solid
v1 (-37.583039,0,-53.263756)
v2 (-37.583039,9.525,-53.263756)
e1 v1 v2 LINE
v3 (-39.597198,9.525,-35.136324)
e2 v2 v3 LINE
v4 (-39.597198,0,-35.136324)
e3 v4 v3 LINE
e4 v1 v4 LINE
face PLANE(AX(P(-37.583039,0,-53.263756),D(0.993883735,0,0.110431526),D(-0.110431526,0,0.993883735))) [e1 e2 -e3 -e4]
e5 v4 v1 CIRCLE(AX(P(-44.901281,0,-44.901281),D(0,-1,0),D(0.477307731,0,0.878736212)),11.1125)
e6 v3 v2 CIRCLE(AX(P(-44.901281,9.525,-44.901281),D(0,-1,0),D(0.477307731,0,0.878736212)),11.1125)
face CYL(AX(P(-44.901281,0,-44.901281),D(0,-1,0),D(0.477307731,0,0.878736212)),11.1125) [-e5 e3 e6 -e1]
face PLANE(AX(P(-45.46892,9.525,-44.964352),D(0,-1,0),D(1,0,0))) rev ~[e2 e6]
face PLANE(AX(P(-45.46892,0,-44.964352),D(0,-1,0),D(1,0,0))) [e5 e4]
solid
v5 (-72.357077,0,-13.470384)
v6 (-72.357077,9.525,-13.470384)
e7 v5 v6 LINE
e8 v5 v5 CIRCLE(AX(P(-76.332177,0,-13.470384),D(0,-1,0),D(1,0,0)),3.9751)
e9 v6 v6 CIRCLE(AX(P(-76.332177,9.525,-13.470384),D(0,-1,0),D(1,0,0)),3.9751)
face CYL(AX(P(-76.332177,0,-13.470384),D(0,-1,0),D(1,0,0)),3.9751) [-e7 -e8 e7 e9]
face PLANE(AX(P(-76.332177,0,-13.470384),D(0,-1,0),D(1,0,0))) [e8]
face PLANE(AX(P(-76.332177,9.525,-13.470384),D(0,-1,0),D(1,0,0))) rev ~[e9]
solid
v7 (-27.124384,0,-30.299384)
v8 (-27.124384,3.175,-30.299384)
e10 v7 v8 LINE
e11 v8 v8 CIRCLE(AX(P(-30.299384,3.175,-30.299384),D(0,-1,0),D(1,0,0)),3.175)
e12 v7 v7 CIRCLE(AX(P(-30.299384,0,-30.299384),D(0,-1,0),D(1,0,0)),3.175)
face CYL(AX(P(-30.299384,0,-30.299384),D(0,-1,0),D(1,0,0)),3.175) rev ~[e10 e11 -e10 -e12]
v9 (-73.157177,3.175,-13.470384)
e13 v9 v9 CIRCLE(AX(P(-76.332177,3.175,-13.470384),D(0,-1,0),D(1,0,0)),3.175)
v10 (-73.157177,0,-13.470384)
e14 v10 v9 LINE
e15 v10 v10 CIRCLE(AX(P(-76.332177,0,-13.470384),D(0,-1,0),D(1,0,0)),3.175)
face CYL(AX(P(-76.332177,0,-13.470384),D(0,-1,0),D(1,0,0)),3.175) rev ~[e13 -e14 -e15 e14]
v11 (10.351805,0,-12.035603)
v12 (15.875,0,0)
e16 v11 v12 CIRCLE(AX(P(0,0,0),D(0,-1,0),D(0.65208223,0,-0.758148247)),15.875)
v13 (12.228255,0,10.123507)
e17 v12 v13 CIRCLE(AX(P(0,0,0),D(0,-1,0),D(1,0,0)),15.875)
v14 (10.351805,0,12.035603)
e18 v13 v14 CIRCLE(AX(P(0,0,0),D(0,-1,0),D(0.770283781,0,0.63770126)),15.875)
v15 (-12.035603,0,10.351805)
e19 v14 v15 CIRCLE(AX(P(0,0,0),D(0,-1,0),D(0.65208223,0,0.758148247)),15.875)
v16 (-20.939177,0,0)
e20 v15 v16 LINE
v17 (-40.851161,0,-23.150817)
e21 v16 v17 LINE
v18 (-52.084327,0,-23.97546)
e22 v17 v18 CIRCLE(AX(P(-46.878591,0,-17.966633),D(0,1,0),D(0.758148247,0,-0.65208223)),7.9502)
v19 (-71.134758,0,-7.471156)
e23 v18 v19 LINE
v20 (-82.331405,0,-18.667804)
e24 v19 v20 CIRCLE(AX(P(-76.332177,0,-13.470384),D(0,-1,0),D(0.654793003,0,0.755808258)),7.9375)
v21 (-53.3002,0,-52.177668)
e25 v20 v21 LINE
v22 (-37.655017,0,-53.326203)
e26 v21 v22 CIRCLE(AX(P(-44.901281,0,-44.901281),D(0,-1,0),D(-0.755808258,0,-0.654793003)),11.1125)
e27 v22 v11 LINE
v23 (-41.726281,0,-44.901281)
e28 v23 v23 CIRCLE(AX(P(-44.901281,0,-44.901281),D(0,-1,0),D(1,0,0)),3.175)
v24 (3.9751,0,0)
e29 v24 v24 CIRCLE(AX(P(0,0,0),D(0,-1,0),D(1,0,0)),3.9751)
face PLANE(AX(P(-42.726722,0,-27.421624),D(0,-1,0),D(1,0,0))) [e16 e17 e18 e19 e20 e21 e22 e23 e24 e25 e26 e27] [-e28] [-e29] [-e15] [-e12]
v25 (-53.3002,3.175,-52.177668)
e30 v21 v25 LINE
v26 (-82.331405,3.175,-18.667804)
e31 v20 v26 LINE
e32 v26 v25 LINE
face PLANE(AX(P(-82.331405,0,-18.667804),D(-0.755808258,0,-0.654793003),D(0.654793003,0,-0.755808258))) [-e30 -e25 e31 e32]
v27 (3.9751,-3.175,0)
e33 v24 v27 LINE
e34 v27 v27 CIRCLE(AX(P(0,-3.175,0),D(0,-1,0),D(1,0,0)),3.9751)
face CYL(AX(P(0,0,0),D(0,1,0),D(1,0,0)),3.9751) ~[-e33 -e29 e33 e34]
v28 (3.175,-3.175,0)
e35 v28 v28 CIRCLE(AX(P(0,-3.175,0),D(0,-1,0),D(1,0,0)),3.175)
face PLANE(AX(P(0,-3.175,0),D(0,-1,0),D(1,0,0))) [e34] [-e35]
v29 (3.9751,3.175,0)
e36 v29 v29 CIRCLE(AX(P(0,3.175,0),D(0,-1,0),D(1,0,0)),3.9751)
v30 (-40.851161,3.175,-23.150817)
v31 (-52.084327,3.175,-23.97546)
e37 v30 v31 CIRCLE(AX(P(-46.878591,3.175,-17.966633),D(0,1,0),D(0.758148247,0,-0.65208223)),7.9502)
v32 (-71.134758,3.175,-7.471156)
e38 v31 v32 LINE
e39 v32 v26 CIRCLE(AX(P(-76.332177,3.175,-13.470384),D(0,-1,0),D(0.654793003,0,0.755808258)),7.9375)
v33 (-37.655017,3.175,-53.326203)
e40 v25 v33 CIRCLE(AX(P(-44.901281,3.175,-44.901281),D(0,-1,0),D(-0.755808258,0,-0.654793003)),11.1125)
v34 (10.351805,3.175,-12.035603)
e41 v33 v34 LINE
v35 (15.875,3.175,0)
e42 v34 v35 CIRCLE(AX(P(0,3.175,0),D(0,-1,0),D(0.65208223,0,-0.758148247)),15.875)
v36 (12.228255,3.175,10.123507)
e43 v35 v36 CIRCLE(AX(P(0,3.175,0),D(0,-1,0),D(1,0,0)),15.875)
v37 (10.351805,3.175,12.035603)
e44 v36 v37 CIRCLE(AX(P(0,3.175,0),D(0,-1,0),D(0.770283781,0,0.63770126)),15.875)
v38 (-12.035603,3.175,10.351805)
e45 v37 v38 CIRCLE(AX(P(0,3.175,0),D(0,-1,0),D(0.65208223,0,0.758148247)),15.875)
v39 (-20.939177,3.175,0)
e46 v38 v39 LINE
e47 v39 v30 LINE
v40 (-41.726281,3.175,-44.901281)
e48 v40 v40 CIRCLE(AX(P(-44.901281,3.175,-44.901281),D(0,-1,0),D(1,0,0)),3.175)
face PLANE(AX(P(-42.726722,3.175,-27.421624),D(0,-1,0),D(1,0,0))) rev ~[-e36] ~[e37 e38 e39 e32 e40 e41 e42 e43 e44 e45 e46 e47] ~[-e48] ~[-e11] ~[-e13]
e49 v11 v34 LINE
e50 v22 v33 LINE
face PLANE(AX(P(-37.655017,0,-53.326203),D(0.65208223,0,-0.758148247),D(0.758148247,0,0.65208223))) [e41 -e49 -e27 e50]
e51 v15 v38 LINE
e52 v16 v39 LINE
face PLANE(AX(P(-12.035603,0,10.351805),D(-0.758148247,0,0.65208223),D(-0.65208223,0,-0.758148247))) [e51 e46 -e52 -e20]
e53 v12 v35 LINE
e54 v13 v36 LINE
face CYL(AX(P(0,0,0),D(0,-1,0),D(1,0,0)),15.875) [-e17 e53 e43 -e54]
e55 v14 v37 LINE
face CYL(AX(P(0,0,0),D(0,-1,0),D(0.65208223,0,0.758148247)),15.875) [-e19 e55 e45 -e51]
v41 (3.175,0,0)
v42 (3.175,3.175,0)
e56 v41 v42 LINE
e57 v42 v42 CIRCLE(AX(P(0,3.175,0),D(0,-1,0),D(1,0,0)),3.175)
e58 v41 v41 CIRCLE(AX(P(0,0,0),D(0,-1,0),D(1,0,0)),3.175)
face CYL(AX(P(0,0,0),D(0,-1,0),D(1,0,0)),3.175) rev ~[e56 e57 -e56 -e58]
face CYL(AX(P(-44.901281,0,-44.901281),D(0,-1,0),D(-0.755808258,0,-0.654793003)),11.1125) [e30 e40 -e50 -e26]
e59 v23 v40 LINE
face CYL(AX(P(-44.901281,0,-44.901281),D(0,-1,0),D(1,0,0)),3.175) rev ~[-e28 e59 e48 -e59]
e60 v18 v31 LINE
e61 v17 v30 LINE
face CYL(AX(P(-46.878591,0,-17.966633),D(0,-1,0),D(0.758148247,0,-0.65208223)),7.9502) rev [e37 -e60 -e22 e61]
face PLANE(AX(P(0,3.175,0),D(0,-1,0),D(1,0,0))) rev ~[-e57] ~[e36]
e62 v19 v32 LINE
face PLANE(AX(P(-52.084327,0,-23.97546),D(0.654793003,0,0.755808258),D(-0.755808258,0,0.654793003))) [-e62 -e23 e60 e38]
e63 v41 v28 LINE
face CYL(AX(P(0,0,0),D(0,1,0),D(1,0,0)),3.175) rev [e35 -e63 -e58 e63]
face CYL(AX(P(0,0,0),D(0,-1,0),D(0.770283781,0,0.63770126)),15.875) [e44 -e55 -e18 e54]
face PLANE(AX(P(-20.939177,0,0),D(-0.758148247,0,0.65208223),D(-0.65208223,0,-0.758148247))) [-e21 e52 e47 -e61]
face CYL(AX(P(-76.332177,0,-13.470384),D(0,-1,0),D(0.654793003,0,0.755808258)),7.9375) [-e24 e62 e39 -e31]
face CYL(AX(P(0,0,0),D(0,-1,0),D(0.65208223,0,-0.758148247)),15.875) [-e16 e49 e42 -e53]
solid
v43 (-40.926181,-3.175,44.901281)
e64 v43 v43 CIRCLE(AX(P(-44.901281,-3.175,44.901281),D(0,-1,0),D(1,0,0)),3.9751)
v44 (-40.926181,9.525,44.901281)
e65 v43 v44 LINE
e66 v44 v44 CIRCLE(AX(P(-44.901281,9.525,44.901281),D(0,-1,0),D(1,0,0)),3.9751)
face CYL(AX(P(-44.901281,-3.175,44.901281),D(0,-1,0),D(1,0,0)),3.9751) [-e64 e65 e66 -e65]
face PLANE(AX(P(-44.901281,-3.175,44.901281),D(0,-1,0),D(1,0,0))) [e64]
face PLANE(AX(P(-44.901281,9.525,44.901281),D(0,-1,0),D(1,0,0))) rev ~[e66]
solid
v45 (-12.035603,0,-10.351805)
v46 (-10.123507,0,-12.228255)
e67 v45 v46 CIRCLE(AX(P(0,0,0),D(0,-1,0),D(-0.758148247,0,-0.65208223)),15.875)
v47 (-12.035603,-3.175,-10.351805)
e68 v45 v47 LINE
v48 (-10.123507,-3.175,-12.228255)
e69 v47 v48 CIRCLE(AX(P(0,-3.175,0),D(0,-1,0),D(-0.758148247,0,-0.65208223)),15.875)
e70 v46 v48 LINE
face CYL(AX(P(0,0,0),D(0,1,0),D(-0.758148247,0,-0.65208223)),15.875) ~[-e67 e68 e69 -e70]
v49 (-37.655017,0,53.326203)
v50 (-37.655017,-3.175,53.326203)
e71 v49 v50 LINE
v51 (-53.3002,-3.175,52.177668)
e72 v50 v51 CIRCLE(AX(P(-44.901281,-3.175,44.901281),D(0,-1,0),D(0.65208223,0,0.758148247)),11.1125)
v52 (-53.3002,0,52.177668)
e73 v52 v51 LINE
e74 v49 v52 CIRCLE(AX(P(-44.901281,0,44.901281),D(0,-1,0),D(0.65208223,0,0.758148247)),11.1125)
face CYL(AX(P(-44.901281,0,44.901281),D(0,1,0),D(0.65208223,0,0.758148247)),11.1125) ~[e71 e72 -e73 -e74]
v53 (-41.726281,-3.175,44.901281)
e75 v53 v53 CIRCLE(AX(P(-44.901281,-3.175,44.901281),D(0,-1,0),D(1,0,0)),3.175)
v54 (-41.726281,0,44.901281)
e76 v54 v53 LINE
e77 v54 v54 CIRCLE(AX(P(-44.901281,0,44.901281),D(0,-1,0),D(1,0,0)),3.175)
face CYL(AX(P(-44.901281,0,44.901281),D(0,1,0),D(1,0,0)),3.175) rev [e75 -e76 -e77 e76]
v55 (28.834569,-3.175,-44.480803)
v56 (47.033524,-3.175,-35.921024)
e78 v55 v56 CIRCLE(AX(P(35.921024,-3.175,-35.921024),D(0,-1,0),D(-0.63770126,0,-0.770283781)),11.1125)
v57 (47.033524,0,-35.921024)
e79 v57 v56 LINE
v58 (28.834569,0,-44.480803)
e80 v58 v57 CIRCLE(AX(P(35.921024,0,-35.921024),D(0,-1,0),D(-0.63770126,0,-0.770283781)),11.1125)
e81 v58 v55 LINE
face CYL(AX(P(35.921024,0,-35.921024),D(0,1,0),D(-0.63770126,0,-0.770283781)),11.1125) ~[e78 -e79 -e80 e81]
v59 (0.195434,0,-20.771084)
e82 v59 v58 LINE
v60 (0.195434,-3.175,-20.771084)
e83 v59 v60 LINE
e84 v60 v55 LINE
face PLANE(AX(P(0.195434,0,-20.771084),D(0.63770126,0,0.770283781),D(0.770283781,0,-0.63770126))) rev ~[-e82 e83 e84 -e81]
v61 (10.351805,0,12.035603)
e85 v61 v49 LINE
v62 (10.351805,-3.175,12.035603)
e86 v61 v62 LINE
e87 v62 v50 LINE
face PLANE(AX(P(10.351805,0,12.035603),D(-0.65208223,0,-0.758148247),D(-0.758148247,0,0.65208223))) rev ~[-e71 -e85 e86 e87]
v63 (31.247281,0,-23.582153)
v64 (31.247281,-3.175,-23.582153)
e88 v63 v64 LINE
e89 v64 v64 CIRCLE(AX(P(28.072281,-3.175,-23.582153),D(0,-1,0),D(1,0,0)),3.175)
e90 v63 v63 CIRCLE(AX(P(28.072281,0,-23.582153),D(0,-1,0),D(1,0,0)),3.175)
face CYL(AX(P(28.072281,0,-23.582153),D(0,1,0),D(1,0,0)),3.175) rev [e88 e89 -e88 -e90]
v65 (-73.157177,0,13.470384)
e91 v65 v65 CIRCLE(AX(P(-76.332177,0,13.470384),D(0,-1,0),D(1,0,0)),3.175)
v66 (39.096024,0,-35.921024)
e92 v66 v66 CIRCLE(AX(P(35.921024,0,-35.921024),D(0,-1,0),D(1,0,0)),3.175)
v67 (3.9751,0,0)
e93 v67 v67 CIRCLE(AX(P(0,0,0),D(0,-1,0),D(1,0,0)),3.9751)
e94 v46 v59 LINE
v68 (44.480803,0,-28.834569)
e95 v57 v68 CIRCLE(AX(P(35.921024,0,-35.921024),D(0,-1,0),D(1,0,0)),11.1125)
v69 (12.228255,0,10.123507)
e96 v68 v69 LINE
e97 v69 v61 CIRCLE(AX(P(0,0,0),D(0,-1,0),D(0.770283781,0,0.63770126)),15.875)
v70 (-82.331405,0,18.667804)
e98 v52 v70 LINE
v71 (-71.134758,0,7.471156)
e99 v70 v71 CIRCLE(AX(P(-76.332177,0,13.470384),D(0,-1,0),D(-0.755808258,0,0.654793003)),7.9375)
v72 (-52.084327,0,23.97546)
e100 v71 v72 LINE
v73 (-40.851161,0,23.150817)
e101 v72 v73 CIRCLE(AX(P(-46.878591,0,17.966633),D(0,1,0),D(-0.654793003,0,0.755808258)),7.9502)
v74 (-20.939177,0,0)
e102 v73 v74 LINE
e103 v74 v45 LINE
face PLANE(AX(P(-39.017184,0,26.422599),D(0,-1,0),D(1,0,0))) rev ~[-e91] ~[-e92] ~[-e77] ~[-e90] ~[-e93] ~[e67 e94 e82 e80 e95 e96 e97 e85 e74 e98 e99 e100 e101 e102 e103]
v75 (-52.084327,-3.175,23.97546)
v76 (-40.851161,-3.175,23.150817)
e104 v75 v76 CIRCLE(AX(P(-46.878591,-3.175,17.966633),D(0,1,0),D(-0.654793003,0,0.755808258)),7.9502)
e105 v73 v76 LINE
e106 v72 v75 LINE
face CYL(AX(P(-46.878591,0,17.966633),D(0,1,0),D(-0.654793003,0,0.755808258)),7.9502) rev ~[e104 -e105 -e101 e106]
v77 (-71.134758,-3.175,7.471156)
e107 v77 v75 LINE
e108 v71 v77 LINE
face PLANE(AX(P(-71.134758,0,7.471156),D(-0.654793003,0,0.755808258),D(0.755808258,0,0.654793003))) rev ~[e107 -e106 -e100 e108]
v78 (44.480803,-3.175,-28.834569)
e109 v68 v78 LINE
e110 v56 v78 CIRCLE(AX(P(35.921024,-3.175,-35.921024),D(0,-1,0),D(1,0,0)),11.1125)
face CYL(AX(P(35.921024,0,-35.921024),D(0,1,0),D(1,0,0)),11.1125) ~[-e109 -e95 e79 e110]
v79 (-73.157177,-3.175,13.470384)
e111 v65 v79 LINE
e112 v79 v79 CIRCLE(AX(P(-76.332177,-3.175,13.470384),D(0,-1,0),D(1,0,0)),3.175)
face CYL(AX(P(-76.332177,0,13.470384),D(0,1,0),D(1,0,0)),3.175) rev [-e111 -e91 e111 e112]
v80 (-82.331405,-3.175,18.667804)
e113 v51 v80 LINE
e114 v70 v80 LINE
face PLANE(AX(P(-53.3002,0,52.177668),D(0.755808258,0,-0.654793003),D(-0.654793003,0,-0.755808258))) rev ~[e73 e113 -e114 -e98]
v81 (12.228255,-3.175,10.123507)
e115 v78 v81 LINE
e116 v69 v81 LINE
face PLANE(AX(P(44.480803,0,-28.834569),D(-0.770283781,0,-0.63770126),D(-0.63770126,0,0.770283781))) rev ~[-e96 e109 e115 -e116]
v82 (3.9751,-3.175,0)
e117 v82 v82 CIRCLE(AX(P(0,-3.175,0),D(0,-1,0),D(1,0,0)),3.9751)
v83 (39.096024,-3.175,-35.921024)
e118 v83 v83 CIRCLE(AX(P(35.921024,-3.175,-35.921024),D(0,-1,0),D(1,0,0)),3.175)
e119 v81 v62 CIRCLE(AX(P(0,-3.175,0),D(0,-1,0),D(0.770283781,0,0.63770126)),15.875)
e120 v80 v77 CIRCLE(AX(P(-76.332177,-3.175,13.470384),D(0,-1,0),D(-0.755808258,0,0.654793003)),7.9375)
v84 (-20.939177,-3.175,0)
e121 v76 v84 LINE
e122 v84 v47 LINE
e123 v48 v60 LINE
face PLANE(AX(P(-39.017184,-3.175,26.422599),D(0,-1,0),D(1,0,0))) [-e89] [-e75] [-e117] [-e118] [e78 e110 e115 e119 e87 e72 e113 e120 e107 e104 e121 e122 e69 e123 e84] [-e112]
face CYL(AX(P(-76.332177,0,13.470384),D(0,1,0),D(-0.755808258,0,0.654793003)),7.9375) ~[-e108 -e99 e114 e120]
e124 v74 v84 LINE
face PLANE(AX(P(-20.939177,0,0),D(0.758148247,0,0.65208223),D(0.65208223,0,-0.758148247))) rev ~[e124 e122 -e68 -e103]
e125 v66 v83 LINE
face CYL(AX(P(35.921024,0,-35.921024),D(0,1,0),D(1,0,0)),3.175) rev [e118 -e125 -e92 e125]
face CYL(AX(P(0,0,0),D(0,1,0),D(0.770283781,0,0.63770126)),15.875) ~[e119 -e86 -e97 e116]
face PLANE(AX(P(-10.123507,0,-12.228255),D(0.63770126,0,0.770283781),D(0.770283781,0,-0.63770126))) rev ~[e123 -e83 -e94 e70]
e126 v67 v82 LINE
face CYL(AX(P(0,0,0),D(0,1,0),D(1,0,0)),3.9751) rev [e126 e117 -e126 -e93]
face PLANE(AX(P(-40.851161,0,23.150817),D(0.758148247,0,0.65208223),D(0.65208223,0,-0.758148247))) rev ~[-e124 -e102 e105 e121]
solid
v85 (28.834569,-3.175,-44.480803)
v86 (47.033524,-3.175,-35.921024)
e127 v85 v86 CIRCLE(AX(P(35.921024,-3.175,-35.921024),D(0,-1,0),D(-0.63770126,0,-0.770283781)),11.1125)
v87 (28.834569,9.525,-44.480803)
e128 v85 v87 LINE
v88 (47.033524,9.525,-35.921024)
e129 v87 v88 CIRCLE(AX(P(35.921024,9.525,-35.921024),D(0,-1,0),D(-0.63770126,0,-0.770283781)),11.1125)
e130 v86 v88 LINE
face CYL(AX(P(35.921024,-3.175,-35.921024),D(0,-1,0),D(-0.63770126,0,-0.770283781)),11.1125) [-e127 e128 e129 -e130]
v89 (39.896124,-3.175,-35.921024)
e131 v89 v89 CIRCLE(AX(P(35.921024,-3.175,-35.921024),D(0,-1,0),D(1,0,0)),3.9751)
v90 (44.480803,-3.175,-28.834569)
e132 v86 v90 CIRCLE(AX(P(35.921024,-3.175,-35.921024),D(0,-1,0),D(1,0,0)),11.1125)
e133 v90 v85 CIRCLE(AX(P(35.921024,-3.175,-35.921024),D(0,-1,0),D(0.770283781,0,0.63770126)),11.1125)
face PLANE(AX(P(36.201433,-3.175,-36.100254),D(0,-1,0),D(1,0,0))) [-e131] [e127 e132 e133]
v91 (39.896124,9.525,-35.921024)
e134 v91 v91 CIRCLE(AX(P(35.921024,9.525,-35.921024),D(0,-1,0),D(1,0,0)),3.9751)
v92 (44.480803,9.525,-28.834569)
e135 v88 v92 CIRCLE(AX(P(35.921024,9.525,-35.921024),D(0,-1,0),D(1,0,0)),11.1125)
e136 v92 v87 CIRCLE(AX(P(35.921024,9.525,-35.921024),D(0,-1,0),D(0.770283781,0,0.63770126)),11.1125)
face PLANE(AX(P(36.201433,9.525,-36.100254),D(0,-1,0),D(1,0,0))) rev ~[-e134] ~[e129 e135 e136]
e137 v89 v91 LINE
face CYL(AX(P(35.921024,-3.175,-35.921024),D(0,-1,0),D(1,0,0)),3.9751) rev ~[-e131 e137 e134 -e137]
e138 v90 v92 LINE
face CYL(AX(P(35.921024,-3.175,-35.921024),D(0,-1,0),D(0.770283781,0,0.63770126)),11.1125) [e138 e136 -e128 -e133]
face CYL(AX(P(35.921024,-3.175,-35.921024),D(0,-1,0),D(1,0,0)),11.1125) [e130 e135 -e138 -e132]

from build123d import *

# Parameters (mm, degrees)
F0_R          = 3.175
F0_R_2        = 3.9751
F1_DEPTH      = 3.175
F2_DEPTH      = 3.175
F3_DEPTH      = 3.175
F3_DEPTH_BACK = 3.175
F4_R          = 3.9751
F4_R_2        = 3.175
F6_DEPTH      = 12.7
F7_START      = -3.175
F7_DEPTH      = 9.525


with BuildPart() as f1:
    # F0 (on Front) → F1 (new body)
    with BuildSketch(Plane.XZ):
        with BuildLine():
            ThreePointArc((-12.0356034274, 10.3518054047), (-1.190625, 15.8302885984), (10.3518054047, 12.0356034274))
            Line((10.3518054047, 12.0356034274), (-37.655016822, 53.3262030046))
            ThreePointArc((-37.655016822, 53.3262030046), (-34.8014845049, 49.5361241819), (-33.7887806053, 44.9012806053))
            ThreePointArc((-33.7887806053, 44.9012806053), (-41.0369756168, 34.4823169714), (-53.3262030046, 37.655016822))
            ThreePointArc((-53.3262030046, 37.655016822), (-56.0137627922, 44.9211777548), (-53.300199871, 52.1776678558))
            Line((-53.300199871, 52.1776678558), (-82.331405076, 18.6678036462))
            ThreePointArc((-82.331405076, 18.6678036462), (-73.5586383483, 20.9075469092), (-68.3946770291, 13.4703841816))
            ThreePointArc((-68.3946770291, 13.4703841816), (-69.1121208226, 10.1727039932), (-71.1347575644, 7.4711561347))
            Line((-71.1347575644, 7.4711561347), (-52.0843267669, 23.9754595323))
            ThreePointArc((-52.0843267669, 23.9754595323), (-46.2965222838, 25.8954961667), (-40.8511612346, 23.1508168672))
            Line((-40.8511612346, 23.1508168672), (-20.9391765456, 0))
            Line((-20.9391765456, 0), (-12.0356034274, 10.3518054047))
        make_face()
        with BuildLine():
            ThreePointArc((28.8345692365, -44.4808030019), (28.0633003783, -28.0633003783), (44.4808030019, -28.8345692365))
            Line((44.4808030019, -28.8345692365), (12.2282550252, 10.1235074968))
            ThreePointArc((12.2282550252, 10.1235074968), (14.9355142785, 5.3801522504), (15.875, 0))
            ThreePointArc((15.875, 0), (14.4282801435, -6.6212051093), (10.3518054047, -12.0356034274))
            Line((10.3518054047, -12.0356034274), (0.1954344954, -20.7710836138))
            Line((0.1954344954, -20.7710836138), (28.8345692365, -44.4808030019))
        make_face()
        with Locations((28.0722806345, -23.5821525739)):
            Circle(F0_R, mode=Mode.SUBTRACT)
        with BuildLine():
            ThreePointArc((15.875, 0), (14.9355142785, 5.3801522504), (12.2282550252, 10.1235074968))
            ThreePointArc((12.2282550252, 10.1235074968), (11.3304373246, 11.1192092809), (10.3518054047, 12.0356034274))
            ThreePointArc((10.3518054047, 12.0356034274), (-1.190625, 15.8302885984), (-12.0356034274, 10.3518054047))
            ThreePointArc((-12.0356034274, 10.3518054047), (-15.875, 0), (-12.0356034274, -10.3518054047))
            ThreePointArc((-12.0356034274, -10.3518054047), (-11.1192092809, -11.3304373246), (-10.1235074968, -12.2282550252))
            ThreePointArc((-10.1235074968, -12.2282550252), (0.1493607821, -15.87429735), (10.3518054047, -12.0356034274))
            ThreePointArc((10.3518054047, -12.0356034274), (14.4282801435, -6.6212051093), (15.875, 0))
        make_face()
        Circle(F0_R_2, mode=Mode.SUBTRACT)
        with BuildLine():
            Line((-10.1235074968, -12.2282550252), (0.1954344954, -20.7710836138))
            Line((0.1954344954, -20.7710836138), (10.3518054047, -12.0356034274))
            ThreePointArc((10.3518054047, -12.0356034274), (0.1493607821, -15.87429735), (-10.1235074968, -12.2282550252))
        make_face()
        with BuildLine():
            ThreePointArc((-12.0356034274, -10.3518054047), (-15.875, 0), (-12.0356034274, 10.3518054047))
            Line((-12.0356034274, 10.3518054047), (-20.9391765456, 0))
            Line((-20.9391765456, 0), (-12.0356034274, -10.3518054047))
        make_face()
        with BuildLine():
            ThreePointArc((-33.7887806053, 44.9012806053), (-34.8014845049, 49.5361241819), (-37.655016822, 53.3262030046))
            ThreePointArc((-37.655016822, 53.3262030046), (-45.7148756595, 55.9839571475), (-53.300199871, 52.1776678558))
            ThreePointArc((-53.300199871, 52.1776678558), (-56.0137627922, 44.9211777548), (-53.3262030046, 37.655016822))
            ThreePointArc((-53.3262030046, 37.655016822), (-41.0369756168, 34.4823169714), (-33.7887806053, 44.9012806053))
        make_face()
        with Locations((-44.9012806053, 44.9012806053)):
            Circle(F0_R, mode=Mode.SUBTRACT)
        with BuildLine():
            ThreePointArc((-68.3946770291, 13.4703841816), (-73.5586383483, 20.9075469092), (-82.331405076, 18.6678036462))
            ThreePointArc((-82.331405076, 18.6678036462), (-81.9448371048, 7.8577241059), (-71.1347575644, 7.4711561347))
            ThreePointArc((-71.1347575644, 7.4711561347), (-69.1121208226, 10.1727039932), (-68.3946770291, 13.4703841816))
        make_face()
        with Locations((-76.3321770291, 13.4703841816)):
            Circle(F0_R, mode=Mode.SUBTRACT)
        with BuildLine():
            ThreePointArc((28.8345692365, -44.4808030019), (40.650687385, -45.9767663811), (47.0335244843, -35.9210244843))
            ThreePointArc((47.0335244843, -35.9210244843), (46.3758844792, -32.154917909), (44.4808030019, -28.8345692365))
            ThreePointArc((44.4808030019, -28.8345692365), (28.0633003783, -28.0633003783), (28.8345692365, -44.4808030019))
        make_face()
        with Locations((35.9210244843, -35.9210244843)):
            Circle(F0_R, mode=Mode.SUBTRACT)
    extrude(amount=F1_DEPTH)


with BuildPart() as f2:
    # F0 (on Front) → F2 (new body)
    with BuildSketch(Plane.XZ):
        with BuildLine():
            Line((-37.655016822, -53.3262030046), (0.1954344954, -20.7710836138))
            Line((0.1954344954, -20.7710836138), (-10.1235074968, -12.2282550252))
            ThreePointArc((-10.1235074968, -12.2282550252), (-11.1192092809, -11.3304373246), (-12.0356034274, -10.3518054047))
            Line((-12.0356034274, -10.3518054047), (-20.9391765456, 0))
            Line((-20.9391765456, 0), (-40.8511612346, -23.1508168672))
            ThreePointArc((-40.8511612346, -23.1508168672), (-46.2965222838, -25.8954961667), (-52.0843267669, -23.9754595323))
            Line((-52.0843267669, -23.9754595323), (-71.1347575644, -7.4711561347))
            ThreePointArc((-71.1347575644, -7.4711561347), (-69.1121208226, -10.1727039932), (-68.3946770291, -13.4703841816))
            ThreePointArc((-68.3946770291, -13.4703841816), (-73.5586383483, -20.9075469092), (-82.331405076, -18.6678036462))
            Line((-82.331405076, -18.6678036462), (-53.300199871, -52.1776678558))
            ThreePointArc((-53.300199871, -52.1776678558), (-56.0137627922, -44.9211777548), (-53.3262030046, -37.655016822))
            ThreePointArc((-53.3262030046, -37.655016822), (-41.0369756168, -34.4823169714), (-33.7887806053, -44.9012806053))
            ThreePointArc((-33.7887806053, -44.9012806053), (-34.8014845049, -49.5361241819), (-37.655016822, -53.3262030046))
        make_face()
        with Locations((-30.2993841525, -30.2993841525)):
            Circle(F0_R, mode=Mode.SUBTRACT)
        with BuildLine():
            ThreePointArc((-12.0356034274, -10.3518054047), (-15.875, 0), (-12.0356034274, 10.3518054047))
            Line((-12.0356034274, 10.3518054047), (-20.9391765456, 0))
            Line((-20.9391765456, 0), (-12.0356034274, -10.3518054047))
        make_face()
        with BuildLine():
            ThreePointArc((15.875, 0), (14.9355142785, 5.3801522504), (12.2282550252, 10.1235074968))
            ThreePointArc((12.2282550252, 10.1235074968), (11.3304373246, 11.1192092809), (10.3518054047, 12.0356034274))
            ThreePointArc((10.3518054047, 12.0356034274), (-1.190625, 15.8302885984), (-12.0356034274, 10.3518054047))
            ThreePointArc((-12.0356034274, 10.3518054047), (-15.875, 0), (-12.0356034274, -10.3518054047))
            ThreePointArc((-12.0356034274, -10.3518054047), (-11.1192092809, -11.3304373246), (-10.1235074968, -12.2282550252))
            ThreePointArc((-10.1235074968, -12.2282550252), (0.1493607821, -15.87429735), (10.3518054047, -12.0356034274))
            ThreePointArc((10.3518054047, -12.0356034274), (14.4282801435, -6.6212051093), (15.875, 0))
        make_face()
        Circle(F0_R_2, mode=Mode.SUBTRACT)
        with BuildLine():
            ThreePointArc((-53.300199871, -52.1776678558), (-45.7148756595, -55.9839571475), (-37.655016822, -53.3262030046))
            ThreePointArc((-37.655016822, -53.3262030046), (-34.8014845049, -49.5361241819), (-33.7887806053, -44.9012806053))
            ThreePointArc((-33.7887806053, -44.9012806053), (-41.0369756168, -34.4823169714), (-53.3262030046, -37.655016822))
            ThreePointArc((-53.3262030046, -37.655016822), (-56.0137627922, -44.9211777548), (-53.300199871, -52.1776678558))
        make_face()
        with Locations((-44.9012806053, -44.9012806053)):
            Circle(F0_R, mode=Mode.SUBTRACT)
        with BuildLine():
            ThreePointArc((-71.1347575644, -7.4711561347), (-81.9448371048, -7.8577241059), (-82.331405076, -18.6678036462))
            ThreePointArc((-82.331405076, -18.6678036462), (-73.5586383483, -20.9075469092), (-68.3946770291, -13.4703841816))
            ThreePointArc((-68.3946770291, -13.4703841816), (-69.1121208226, -10.1727039932), (-71.1347575644, -7.4711561347))
        make_face()
        with Locations((-76.3321770291, -13.4703841816)):
            Circle(F0_R, mode=Mode.SUBTRACT)
        with BuildLine():
            Line((-10.1235074968, -12.2282550252), (0.1954344954, -20.7710836138))
            Line((0.1954344954, -20.7710836138), (10.3518054047, -12.0356034274))
            ThreePointArc((10.3518054047, -12.0356034274), (0.1493607821, -15.87429735), (-10.1235074968, -12.2282550252))
        make_face()
    extrude(amount=-F2_DEPTH)

    # F0 (on Front) → F3 (join, two sides)
    with BuildSketch(Plane.XZ) as f3_sk:
        Circle(F0_R_2)
        Circle(F0_R, mode=Mode.SUBTRACT)
    extrude(amount=F3_DEPTH)
    extrude(f3_sk.sketch, amount=-F3_DEPTH_BACK)


with BuildPart() as f6:
    # F4 (on face) → F6 (new body, through all)
    with BuildSketch(Plane.XZ.offset(3.175)):
        with Locations((-44.9012806053, 44.9012806053)):
            Circle(F4_R)
        with Locations((-44.9012806053, 44.9012806053)):
            Circle(F4_R_2, mode=Mode.SUBTRACT)
        with Locations((-44.9012806053, 44.9012806053)):
            Circle(F4_R_2)
    extrude(amount=-F6_DEPTH)


with BuildPart() as f6b:
    # F4 (on face) → F6, piece 2 (new body, through all)
    with BuildSketch(Plane.XZ.offset(3.175)):
        with BuildLine():
            ThreePointArc((28.8345692365, -44.4808030019), (40.650687385, -45.9767663811), (47.0335244843, -35.9210244843))
            ThreePointArc((47.0335244843, -35.9210244843), (46.3758844792, -32.154917909), (44.4808030019, -28.8345692365))
            ThreePointArc((44.4808030019, -28.8345692365), (28.0633003783, -28.0633003783), (28.8345692365, -44.4808030019))
        make_face()
        with Locations((35.9210244843, -35.9210244843)):
            Circle(F4_R, mode=Mode.SUBTRACT)
    extrude(amount=-F6_DEPTH)


with BuildPart() as f7:
    # F4 (on face) → F7 (new body)
    with BuildSketch(Plane.XZ.offset(3.175).offset(F7_START)):
        with BuildLine():
            Line((-37.5830393389, -53.2637563761), (-39.5971984414, -35.1363244535))
            ThreePointArc((-39.5971984414, -35.1363244535), (-55.9458136069, -46.1284509389), (-37.5830393389, -53.2637563761))
        make_face()
    extrude(amount=-F7_DEPTH)


with BuildPart() as f7b:
    # F4 (on face) → F7, piece 2 (new body)
    with BuildSketch(Plane.XZ.offset(3.175).offset(F7_START)):
        with Locations((-76.3321770291, -13.4703841816)):
            Circle(F4_R)
    extrude(amount=-F7_DEPTH)


solid = Compound([f1.part, f2.part, f6.part, f6b.part, f7.part, f7b.part])
